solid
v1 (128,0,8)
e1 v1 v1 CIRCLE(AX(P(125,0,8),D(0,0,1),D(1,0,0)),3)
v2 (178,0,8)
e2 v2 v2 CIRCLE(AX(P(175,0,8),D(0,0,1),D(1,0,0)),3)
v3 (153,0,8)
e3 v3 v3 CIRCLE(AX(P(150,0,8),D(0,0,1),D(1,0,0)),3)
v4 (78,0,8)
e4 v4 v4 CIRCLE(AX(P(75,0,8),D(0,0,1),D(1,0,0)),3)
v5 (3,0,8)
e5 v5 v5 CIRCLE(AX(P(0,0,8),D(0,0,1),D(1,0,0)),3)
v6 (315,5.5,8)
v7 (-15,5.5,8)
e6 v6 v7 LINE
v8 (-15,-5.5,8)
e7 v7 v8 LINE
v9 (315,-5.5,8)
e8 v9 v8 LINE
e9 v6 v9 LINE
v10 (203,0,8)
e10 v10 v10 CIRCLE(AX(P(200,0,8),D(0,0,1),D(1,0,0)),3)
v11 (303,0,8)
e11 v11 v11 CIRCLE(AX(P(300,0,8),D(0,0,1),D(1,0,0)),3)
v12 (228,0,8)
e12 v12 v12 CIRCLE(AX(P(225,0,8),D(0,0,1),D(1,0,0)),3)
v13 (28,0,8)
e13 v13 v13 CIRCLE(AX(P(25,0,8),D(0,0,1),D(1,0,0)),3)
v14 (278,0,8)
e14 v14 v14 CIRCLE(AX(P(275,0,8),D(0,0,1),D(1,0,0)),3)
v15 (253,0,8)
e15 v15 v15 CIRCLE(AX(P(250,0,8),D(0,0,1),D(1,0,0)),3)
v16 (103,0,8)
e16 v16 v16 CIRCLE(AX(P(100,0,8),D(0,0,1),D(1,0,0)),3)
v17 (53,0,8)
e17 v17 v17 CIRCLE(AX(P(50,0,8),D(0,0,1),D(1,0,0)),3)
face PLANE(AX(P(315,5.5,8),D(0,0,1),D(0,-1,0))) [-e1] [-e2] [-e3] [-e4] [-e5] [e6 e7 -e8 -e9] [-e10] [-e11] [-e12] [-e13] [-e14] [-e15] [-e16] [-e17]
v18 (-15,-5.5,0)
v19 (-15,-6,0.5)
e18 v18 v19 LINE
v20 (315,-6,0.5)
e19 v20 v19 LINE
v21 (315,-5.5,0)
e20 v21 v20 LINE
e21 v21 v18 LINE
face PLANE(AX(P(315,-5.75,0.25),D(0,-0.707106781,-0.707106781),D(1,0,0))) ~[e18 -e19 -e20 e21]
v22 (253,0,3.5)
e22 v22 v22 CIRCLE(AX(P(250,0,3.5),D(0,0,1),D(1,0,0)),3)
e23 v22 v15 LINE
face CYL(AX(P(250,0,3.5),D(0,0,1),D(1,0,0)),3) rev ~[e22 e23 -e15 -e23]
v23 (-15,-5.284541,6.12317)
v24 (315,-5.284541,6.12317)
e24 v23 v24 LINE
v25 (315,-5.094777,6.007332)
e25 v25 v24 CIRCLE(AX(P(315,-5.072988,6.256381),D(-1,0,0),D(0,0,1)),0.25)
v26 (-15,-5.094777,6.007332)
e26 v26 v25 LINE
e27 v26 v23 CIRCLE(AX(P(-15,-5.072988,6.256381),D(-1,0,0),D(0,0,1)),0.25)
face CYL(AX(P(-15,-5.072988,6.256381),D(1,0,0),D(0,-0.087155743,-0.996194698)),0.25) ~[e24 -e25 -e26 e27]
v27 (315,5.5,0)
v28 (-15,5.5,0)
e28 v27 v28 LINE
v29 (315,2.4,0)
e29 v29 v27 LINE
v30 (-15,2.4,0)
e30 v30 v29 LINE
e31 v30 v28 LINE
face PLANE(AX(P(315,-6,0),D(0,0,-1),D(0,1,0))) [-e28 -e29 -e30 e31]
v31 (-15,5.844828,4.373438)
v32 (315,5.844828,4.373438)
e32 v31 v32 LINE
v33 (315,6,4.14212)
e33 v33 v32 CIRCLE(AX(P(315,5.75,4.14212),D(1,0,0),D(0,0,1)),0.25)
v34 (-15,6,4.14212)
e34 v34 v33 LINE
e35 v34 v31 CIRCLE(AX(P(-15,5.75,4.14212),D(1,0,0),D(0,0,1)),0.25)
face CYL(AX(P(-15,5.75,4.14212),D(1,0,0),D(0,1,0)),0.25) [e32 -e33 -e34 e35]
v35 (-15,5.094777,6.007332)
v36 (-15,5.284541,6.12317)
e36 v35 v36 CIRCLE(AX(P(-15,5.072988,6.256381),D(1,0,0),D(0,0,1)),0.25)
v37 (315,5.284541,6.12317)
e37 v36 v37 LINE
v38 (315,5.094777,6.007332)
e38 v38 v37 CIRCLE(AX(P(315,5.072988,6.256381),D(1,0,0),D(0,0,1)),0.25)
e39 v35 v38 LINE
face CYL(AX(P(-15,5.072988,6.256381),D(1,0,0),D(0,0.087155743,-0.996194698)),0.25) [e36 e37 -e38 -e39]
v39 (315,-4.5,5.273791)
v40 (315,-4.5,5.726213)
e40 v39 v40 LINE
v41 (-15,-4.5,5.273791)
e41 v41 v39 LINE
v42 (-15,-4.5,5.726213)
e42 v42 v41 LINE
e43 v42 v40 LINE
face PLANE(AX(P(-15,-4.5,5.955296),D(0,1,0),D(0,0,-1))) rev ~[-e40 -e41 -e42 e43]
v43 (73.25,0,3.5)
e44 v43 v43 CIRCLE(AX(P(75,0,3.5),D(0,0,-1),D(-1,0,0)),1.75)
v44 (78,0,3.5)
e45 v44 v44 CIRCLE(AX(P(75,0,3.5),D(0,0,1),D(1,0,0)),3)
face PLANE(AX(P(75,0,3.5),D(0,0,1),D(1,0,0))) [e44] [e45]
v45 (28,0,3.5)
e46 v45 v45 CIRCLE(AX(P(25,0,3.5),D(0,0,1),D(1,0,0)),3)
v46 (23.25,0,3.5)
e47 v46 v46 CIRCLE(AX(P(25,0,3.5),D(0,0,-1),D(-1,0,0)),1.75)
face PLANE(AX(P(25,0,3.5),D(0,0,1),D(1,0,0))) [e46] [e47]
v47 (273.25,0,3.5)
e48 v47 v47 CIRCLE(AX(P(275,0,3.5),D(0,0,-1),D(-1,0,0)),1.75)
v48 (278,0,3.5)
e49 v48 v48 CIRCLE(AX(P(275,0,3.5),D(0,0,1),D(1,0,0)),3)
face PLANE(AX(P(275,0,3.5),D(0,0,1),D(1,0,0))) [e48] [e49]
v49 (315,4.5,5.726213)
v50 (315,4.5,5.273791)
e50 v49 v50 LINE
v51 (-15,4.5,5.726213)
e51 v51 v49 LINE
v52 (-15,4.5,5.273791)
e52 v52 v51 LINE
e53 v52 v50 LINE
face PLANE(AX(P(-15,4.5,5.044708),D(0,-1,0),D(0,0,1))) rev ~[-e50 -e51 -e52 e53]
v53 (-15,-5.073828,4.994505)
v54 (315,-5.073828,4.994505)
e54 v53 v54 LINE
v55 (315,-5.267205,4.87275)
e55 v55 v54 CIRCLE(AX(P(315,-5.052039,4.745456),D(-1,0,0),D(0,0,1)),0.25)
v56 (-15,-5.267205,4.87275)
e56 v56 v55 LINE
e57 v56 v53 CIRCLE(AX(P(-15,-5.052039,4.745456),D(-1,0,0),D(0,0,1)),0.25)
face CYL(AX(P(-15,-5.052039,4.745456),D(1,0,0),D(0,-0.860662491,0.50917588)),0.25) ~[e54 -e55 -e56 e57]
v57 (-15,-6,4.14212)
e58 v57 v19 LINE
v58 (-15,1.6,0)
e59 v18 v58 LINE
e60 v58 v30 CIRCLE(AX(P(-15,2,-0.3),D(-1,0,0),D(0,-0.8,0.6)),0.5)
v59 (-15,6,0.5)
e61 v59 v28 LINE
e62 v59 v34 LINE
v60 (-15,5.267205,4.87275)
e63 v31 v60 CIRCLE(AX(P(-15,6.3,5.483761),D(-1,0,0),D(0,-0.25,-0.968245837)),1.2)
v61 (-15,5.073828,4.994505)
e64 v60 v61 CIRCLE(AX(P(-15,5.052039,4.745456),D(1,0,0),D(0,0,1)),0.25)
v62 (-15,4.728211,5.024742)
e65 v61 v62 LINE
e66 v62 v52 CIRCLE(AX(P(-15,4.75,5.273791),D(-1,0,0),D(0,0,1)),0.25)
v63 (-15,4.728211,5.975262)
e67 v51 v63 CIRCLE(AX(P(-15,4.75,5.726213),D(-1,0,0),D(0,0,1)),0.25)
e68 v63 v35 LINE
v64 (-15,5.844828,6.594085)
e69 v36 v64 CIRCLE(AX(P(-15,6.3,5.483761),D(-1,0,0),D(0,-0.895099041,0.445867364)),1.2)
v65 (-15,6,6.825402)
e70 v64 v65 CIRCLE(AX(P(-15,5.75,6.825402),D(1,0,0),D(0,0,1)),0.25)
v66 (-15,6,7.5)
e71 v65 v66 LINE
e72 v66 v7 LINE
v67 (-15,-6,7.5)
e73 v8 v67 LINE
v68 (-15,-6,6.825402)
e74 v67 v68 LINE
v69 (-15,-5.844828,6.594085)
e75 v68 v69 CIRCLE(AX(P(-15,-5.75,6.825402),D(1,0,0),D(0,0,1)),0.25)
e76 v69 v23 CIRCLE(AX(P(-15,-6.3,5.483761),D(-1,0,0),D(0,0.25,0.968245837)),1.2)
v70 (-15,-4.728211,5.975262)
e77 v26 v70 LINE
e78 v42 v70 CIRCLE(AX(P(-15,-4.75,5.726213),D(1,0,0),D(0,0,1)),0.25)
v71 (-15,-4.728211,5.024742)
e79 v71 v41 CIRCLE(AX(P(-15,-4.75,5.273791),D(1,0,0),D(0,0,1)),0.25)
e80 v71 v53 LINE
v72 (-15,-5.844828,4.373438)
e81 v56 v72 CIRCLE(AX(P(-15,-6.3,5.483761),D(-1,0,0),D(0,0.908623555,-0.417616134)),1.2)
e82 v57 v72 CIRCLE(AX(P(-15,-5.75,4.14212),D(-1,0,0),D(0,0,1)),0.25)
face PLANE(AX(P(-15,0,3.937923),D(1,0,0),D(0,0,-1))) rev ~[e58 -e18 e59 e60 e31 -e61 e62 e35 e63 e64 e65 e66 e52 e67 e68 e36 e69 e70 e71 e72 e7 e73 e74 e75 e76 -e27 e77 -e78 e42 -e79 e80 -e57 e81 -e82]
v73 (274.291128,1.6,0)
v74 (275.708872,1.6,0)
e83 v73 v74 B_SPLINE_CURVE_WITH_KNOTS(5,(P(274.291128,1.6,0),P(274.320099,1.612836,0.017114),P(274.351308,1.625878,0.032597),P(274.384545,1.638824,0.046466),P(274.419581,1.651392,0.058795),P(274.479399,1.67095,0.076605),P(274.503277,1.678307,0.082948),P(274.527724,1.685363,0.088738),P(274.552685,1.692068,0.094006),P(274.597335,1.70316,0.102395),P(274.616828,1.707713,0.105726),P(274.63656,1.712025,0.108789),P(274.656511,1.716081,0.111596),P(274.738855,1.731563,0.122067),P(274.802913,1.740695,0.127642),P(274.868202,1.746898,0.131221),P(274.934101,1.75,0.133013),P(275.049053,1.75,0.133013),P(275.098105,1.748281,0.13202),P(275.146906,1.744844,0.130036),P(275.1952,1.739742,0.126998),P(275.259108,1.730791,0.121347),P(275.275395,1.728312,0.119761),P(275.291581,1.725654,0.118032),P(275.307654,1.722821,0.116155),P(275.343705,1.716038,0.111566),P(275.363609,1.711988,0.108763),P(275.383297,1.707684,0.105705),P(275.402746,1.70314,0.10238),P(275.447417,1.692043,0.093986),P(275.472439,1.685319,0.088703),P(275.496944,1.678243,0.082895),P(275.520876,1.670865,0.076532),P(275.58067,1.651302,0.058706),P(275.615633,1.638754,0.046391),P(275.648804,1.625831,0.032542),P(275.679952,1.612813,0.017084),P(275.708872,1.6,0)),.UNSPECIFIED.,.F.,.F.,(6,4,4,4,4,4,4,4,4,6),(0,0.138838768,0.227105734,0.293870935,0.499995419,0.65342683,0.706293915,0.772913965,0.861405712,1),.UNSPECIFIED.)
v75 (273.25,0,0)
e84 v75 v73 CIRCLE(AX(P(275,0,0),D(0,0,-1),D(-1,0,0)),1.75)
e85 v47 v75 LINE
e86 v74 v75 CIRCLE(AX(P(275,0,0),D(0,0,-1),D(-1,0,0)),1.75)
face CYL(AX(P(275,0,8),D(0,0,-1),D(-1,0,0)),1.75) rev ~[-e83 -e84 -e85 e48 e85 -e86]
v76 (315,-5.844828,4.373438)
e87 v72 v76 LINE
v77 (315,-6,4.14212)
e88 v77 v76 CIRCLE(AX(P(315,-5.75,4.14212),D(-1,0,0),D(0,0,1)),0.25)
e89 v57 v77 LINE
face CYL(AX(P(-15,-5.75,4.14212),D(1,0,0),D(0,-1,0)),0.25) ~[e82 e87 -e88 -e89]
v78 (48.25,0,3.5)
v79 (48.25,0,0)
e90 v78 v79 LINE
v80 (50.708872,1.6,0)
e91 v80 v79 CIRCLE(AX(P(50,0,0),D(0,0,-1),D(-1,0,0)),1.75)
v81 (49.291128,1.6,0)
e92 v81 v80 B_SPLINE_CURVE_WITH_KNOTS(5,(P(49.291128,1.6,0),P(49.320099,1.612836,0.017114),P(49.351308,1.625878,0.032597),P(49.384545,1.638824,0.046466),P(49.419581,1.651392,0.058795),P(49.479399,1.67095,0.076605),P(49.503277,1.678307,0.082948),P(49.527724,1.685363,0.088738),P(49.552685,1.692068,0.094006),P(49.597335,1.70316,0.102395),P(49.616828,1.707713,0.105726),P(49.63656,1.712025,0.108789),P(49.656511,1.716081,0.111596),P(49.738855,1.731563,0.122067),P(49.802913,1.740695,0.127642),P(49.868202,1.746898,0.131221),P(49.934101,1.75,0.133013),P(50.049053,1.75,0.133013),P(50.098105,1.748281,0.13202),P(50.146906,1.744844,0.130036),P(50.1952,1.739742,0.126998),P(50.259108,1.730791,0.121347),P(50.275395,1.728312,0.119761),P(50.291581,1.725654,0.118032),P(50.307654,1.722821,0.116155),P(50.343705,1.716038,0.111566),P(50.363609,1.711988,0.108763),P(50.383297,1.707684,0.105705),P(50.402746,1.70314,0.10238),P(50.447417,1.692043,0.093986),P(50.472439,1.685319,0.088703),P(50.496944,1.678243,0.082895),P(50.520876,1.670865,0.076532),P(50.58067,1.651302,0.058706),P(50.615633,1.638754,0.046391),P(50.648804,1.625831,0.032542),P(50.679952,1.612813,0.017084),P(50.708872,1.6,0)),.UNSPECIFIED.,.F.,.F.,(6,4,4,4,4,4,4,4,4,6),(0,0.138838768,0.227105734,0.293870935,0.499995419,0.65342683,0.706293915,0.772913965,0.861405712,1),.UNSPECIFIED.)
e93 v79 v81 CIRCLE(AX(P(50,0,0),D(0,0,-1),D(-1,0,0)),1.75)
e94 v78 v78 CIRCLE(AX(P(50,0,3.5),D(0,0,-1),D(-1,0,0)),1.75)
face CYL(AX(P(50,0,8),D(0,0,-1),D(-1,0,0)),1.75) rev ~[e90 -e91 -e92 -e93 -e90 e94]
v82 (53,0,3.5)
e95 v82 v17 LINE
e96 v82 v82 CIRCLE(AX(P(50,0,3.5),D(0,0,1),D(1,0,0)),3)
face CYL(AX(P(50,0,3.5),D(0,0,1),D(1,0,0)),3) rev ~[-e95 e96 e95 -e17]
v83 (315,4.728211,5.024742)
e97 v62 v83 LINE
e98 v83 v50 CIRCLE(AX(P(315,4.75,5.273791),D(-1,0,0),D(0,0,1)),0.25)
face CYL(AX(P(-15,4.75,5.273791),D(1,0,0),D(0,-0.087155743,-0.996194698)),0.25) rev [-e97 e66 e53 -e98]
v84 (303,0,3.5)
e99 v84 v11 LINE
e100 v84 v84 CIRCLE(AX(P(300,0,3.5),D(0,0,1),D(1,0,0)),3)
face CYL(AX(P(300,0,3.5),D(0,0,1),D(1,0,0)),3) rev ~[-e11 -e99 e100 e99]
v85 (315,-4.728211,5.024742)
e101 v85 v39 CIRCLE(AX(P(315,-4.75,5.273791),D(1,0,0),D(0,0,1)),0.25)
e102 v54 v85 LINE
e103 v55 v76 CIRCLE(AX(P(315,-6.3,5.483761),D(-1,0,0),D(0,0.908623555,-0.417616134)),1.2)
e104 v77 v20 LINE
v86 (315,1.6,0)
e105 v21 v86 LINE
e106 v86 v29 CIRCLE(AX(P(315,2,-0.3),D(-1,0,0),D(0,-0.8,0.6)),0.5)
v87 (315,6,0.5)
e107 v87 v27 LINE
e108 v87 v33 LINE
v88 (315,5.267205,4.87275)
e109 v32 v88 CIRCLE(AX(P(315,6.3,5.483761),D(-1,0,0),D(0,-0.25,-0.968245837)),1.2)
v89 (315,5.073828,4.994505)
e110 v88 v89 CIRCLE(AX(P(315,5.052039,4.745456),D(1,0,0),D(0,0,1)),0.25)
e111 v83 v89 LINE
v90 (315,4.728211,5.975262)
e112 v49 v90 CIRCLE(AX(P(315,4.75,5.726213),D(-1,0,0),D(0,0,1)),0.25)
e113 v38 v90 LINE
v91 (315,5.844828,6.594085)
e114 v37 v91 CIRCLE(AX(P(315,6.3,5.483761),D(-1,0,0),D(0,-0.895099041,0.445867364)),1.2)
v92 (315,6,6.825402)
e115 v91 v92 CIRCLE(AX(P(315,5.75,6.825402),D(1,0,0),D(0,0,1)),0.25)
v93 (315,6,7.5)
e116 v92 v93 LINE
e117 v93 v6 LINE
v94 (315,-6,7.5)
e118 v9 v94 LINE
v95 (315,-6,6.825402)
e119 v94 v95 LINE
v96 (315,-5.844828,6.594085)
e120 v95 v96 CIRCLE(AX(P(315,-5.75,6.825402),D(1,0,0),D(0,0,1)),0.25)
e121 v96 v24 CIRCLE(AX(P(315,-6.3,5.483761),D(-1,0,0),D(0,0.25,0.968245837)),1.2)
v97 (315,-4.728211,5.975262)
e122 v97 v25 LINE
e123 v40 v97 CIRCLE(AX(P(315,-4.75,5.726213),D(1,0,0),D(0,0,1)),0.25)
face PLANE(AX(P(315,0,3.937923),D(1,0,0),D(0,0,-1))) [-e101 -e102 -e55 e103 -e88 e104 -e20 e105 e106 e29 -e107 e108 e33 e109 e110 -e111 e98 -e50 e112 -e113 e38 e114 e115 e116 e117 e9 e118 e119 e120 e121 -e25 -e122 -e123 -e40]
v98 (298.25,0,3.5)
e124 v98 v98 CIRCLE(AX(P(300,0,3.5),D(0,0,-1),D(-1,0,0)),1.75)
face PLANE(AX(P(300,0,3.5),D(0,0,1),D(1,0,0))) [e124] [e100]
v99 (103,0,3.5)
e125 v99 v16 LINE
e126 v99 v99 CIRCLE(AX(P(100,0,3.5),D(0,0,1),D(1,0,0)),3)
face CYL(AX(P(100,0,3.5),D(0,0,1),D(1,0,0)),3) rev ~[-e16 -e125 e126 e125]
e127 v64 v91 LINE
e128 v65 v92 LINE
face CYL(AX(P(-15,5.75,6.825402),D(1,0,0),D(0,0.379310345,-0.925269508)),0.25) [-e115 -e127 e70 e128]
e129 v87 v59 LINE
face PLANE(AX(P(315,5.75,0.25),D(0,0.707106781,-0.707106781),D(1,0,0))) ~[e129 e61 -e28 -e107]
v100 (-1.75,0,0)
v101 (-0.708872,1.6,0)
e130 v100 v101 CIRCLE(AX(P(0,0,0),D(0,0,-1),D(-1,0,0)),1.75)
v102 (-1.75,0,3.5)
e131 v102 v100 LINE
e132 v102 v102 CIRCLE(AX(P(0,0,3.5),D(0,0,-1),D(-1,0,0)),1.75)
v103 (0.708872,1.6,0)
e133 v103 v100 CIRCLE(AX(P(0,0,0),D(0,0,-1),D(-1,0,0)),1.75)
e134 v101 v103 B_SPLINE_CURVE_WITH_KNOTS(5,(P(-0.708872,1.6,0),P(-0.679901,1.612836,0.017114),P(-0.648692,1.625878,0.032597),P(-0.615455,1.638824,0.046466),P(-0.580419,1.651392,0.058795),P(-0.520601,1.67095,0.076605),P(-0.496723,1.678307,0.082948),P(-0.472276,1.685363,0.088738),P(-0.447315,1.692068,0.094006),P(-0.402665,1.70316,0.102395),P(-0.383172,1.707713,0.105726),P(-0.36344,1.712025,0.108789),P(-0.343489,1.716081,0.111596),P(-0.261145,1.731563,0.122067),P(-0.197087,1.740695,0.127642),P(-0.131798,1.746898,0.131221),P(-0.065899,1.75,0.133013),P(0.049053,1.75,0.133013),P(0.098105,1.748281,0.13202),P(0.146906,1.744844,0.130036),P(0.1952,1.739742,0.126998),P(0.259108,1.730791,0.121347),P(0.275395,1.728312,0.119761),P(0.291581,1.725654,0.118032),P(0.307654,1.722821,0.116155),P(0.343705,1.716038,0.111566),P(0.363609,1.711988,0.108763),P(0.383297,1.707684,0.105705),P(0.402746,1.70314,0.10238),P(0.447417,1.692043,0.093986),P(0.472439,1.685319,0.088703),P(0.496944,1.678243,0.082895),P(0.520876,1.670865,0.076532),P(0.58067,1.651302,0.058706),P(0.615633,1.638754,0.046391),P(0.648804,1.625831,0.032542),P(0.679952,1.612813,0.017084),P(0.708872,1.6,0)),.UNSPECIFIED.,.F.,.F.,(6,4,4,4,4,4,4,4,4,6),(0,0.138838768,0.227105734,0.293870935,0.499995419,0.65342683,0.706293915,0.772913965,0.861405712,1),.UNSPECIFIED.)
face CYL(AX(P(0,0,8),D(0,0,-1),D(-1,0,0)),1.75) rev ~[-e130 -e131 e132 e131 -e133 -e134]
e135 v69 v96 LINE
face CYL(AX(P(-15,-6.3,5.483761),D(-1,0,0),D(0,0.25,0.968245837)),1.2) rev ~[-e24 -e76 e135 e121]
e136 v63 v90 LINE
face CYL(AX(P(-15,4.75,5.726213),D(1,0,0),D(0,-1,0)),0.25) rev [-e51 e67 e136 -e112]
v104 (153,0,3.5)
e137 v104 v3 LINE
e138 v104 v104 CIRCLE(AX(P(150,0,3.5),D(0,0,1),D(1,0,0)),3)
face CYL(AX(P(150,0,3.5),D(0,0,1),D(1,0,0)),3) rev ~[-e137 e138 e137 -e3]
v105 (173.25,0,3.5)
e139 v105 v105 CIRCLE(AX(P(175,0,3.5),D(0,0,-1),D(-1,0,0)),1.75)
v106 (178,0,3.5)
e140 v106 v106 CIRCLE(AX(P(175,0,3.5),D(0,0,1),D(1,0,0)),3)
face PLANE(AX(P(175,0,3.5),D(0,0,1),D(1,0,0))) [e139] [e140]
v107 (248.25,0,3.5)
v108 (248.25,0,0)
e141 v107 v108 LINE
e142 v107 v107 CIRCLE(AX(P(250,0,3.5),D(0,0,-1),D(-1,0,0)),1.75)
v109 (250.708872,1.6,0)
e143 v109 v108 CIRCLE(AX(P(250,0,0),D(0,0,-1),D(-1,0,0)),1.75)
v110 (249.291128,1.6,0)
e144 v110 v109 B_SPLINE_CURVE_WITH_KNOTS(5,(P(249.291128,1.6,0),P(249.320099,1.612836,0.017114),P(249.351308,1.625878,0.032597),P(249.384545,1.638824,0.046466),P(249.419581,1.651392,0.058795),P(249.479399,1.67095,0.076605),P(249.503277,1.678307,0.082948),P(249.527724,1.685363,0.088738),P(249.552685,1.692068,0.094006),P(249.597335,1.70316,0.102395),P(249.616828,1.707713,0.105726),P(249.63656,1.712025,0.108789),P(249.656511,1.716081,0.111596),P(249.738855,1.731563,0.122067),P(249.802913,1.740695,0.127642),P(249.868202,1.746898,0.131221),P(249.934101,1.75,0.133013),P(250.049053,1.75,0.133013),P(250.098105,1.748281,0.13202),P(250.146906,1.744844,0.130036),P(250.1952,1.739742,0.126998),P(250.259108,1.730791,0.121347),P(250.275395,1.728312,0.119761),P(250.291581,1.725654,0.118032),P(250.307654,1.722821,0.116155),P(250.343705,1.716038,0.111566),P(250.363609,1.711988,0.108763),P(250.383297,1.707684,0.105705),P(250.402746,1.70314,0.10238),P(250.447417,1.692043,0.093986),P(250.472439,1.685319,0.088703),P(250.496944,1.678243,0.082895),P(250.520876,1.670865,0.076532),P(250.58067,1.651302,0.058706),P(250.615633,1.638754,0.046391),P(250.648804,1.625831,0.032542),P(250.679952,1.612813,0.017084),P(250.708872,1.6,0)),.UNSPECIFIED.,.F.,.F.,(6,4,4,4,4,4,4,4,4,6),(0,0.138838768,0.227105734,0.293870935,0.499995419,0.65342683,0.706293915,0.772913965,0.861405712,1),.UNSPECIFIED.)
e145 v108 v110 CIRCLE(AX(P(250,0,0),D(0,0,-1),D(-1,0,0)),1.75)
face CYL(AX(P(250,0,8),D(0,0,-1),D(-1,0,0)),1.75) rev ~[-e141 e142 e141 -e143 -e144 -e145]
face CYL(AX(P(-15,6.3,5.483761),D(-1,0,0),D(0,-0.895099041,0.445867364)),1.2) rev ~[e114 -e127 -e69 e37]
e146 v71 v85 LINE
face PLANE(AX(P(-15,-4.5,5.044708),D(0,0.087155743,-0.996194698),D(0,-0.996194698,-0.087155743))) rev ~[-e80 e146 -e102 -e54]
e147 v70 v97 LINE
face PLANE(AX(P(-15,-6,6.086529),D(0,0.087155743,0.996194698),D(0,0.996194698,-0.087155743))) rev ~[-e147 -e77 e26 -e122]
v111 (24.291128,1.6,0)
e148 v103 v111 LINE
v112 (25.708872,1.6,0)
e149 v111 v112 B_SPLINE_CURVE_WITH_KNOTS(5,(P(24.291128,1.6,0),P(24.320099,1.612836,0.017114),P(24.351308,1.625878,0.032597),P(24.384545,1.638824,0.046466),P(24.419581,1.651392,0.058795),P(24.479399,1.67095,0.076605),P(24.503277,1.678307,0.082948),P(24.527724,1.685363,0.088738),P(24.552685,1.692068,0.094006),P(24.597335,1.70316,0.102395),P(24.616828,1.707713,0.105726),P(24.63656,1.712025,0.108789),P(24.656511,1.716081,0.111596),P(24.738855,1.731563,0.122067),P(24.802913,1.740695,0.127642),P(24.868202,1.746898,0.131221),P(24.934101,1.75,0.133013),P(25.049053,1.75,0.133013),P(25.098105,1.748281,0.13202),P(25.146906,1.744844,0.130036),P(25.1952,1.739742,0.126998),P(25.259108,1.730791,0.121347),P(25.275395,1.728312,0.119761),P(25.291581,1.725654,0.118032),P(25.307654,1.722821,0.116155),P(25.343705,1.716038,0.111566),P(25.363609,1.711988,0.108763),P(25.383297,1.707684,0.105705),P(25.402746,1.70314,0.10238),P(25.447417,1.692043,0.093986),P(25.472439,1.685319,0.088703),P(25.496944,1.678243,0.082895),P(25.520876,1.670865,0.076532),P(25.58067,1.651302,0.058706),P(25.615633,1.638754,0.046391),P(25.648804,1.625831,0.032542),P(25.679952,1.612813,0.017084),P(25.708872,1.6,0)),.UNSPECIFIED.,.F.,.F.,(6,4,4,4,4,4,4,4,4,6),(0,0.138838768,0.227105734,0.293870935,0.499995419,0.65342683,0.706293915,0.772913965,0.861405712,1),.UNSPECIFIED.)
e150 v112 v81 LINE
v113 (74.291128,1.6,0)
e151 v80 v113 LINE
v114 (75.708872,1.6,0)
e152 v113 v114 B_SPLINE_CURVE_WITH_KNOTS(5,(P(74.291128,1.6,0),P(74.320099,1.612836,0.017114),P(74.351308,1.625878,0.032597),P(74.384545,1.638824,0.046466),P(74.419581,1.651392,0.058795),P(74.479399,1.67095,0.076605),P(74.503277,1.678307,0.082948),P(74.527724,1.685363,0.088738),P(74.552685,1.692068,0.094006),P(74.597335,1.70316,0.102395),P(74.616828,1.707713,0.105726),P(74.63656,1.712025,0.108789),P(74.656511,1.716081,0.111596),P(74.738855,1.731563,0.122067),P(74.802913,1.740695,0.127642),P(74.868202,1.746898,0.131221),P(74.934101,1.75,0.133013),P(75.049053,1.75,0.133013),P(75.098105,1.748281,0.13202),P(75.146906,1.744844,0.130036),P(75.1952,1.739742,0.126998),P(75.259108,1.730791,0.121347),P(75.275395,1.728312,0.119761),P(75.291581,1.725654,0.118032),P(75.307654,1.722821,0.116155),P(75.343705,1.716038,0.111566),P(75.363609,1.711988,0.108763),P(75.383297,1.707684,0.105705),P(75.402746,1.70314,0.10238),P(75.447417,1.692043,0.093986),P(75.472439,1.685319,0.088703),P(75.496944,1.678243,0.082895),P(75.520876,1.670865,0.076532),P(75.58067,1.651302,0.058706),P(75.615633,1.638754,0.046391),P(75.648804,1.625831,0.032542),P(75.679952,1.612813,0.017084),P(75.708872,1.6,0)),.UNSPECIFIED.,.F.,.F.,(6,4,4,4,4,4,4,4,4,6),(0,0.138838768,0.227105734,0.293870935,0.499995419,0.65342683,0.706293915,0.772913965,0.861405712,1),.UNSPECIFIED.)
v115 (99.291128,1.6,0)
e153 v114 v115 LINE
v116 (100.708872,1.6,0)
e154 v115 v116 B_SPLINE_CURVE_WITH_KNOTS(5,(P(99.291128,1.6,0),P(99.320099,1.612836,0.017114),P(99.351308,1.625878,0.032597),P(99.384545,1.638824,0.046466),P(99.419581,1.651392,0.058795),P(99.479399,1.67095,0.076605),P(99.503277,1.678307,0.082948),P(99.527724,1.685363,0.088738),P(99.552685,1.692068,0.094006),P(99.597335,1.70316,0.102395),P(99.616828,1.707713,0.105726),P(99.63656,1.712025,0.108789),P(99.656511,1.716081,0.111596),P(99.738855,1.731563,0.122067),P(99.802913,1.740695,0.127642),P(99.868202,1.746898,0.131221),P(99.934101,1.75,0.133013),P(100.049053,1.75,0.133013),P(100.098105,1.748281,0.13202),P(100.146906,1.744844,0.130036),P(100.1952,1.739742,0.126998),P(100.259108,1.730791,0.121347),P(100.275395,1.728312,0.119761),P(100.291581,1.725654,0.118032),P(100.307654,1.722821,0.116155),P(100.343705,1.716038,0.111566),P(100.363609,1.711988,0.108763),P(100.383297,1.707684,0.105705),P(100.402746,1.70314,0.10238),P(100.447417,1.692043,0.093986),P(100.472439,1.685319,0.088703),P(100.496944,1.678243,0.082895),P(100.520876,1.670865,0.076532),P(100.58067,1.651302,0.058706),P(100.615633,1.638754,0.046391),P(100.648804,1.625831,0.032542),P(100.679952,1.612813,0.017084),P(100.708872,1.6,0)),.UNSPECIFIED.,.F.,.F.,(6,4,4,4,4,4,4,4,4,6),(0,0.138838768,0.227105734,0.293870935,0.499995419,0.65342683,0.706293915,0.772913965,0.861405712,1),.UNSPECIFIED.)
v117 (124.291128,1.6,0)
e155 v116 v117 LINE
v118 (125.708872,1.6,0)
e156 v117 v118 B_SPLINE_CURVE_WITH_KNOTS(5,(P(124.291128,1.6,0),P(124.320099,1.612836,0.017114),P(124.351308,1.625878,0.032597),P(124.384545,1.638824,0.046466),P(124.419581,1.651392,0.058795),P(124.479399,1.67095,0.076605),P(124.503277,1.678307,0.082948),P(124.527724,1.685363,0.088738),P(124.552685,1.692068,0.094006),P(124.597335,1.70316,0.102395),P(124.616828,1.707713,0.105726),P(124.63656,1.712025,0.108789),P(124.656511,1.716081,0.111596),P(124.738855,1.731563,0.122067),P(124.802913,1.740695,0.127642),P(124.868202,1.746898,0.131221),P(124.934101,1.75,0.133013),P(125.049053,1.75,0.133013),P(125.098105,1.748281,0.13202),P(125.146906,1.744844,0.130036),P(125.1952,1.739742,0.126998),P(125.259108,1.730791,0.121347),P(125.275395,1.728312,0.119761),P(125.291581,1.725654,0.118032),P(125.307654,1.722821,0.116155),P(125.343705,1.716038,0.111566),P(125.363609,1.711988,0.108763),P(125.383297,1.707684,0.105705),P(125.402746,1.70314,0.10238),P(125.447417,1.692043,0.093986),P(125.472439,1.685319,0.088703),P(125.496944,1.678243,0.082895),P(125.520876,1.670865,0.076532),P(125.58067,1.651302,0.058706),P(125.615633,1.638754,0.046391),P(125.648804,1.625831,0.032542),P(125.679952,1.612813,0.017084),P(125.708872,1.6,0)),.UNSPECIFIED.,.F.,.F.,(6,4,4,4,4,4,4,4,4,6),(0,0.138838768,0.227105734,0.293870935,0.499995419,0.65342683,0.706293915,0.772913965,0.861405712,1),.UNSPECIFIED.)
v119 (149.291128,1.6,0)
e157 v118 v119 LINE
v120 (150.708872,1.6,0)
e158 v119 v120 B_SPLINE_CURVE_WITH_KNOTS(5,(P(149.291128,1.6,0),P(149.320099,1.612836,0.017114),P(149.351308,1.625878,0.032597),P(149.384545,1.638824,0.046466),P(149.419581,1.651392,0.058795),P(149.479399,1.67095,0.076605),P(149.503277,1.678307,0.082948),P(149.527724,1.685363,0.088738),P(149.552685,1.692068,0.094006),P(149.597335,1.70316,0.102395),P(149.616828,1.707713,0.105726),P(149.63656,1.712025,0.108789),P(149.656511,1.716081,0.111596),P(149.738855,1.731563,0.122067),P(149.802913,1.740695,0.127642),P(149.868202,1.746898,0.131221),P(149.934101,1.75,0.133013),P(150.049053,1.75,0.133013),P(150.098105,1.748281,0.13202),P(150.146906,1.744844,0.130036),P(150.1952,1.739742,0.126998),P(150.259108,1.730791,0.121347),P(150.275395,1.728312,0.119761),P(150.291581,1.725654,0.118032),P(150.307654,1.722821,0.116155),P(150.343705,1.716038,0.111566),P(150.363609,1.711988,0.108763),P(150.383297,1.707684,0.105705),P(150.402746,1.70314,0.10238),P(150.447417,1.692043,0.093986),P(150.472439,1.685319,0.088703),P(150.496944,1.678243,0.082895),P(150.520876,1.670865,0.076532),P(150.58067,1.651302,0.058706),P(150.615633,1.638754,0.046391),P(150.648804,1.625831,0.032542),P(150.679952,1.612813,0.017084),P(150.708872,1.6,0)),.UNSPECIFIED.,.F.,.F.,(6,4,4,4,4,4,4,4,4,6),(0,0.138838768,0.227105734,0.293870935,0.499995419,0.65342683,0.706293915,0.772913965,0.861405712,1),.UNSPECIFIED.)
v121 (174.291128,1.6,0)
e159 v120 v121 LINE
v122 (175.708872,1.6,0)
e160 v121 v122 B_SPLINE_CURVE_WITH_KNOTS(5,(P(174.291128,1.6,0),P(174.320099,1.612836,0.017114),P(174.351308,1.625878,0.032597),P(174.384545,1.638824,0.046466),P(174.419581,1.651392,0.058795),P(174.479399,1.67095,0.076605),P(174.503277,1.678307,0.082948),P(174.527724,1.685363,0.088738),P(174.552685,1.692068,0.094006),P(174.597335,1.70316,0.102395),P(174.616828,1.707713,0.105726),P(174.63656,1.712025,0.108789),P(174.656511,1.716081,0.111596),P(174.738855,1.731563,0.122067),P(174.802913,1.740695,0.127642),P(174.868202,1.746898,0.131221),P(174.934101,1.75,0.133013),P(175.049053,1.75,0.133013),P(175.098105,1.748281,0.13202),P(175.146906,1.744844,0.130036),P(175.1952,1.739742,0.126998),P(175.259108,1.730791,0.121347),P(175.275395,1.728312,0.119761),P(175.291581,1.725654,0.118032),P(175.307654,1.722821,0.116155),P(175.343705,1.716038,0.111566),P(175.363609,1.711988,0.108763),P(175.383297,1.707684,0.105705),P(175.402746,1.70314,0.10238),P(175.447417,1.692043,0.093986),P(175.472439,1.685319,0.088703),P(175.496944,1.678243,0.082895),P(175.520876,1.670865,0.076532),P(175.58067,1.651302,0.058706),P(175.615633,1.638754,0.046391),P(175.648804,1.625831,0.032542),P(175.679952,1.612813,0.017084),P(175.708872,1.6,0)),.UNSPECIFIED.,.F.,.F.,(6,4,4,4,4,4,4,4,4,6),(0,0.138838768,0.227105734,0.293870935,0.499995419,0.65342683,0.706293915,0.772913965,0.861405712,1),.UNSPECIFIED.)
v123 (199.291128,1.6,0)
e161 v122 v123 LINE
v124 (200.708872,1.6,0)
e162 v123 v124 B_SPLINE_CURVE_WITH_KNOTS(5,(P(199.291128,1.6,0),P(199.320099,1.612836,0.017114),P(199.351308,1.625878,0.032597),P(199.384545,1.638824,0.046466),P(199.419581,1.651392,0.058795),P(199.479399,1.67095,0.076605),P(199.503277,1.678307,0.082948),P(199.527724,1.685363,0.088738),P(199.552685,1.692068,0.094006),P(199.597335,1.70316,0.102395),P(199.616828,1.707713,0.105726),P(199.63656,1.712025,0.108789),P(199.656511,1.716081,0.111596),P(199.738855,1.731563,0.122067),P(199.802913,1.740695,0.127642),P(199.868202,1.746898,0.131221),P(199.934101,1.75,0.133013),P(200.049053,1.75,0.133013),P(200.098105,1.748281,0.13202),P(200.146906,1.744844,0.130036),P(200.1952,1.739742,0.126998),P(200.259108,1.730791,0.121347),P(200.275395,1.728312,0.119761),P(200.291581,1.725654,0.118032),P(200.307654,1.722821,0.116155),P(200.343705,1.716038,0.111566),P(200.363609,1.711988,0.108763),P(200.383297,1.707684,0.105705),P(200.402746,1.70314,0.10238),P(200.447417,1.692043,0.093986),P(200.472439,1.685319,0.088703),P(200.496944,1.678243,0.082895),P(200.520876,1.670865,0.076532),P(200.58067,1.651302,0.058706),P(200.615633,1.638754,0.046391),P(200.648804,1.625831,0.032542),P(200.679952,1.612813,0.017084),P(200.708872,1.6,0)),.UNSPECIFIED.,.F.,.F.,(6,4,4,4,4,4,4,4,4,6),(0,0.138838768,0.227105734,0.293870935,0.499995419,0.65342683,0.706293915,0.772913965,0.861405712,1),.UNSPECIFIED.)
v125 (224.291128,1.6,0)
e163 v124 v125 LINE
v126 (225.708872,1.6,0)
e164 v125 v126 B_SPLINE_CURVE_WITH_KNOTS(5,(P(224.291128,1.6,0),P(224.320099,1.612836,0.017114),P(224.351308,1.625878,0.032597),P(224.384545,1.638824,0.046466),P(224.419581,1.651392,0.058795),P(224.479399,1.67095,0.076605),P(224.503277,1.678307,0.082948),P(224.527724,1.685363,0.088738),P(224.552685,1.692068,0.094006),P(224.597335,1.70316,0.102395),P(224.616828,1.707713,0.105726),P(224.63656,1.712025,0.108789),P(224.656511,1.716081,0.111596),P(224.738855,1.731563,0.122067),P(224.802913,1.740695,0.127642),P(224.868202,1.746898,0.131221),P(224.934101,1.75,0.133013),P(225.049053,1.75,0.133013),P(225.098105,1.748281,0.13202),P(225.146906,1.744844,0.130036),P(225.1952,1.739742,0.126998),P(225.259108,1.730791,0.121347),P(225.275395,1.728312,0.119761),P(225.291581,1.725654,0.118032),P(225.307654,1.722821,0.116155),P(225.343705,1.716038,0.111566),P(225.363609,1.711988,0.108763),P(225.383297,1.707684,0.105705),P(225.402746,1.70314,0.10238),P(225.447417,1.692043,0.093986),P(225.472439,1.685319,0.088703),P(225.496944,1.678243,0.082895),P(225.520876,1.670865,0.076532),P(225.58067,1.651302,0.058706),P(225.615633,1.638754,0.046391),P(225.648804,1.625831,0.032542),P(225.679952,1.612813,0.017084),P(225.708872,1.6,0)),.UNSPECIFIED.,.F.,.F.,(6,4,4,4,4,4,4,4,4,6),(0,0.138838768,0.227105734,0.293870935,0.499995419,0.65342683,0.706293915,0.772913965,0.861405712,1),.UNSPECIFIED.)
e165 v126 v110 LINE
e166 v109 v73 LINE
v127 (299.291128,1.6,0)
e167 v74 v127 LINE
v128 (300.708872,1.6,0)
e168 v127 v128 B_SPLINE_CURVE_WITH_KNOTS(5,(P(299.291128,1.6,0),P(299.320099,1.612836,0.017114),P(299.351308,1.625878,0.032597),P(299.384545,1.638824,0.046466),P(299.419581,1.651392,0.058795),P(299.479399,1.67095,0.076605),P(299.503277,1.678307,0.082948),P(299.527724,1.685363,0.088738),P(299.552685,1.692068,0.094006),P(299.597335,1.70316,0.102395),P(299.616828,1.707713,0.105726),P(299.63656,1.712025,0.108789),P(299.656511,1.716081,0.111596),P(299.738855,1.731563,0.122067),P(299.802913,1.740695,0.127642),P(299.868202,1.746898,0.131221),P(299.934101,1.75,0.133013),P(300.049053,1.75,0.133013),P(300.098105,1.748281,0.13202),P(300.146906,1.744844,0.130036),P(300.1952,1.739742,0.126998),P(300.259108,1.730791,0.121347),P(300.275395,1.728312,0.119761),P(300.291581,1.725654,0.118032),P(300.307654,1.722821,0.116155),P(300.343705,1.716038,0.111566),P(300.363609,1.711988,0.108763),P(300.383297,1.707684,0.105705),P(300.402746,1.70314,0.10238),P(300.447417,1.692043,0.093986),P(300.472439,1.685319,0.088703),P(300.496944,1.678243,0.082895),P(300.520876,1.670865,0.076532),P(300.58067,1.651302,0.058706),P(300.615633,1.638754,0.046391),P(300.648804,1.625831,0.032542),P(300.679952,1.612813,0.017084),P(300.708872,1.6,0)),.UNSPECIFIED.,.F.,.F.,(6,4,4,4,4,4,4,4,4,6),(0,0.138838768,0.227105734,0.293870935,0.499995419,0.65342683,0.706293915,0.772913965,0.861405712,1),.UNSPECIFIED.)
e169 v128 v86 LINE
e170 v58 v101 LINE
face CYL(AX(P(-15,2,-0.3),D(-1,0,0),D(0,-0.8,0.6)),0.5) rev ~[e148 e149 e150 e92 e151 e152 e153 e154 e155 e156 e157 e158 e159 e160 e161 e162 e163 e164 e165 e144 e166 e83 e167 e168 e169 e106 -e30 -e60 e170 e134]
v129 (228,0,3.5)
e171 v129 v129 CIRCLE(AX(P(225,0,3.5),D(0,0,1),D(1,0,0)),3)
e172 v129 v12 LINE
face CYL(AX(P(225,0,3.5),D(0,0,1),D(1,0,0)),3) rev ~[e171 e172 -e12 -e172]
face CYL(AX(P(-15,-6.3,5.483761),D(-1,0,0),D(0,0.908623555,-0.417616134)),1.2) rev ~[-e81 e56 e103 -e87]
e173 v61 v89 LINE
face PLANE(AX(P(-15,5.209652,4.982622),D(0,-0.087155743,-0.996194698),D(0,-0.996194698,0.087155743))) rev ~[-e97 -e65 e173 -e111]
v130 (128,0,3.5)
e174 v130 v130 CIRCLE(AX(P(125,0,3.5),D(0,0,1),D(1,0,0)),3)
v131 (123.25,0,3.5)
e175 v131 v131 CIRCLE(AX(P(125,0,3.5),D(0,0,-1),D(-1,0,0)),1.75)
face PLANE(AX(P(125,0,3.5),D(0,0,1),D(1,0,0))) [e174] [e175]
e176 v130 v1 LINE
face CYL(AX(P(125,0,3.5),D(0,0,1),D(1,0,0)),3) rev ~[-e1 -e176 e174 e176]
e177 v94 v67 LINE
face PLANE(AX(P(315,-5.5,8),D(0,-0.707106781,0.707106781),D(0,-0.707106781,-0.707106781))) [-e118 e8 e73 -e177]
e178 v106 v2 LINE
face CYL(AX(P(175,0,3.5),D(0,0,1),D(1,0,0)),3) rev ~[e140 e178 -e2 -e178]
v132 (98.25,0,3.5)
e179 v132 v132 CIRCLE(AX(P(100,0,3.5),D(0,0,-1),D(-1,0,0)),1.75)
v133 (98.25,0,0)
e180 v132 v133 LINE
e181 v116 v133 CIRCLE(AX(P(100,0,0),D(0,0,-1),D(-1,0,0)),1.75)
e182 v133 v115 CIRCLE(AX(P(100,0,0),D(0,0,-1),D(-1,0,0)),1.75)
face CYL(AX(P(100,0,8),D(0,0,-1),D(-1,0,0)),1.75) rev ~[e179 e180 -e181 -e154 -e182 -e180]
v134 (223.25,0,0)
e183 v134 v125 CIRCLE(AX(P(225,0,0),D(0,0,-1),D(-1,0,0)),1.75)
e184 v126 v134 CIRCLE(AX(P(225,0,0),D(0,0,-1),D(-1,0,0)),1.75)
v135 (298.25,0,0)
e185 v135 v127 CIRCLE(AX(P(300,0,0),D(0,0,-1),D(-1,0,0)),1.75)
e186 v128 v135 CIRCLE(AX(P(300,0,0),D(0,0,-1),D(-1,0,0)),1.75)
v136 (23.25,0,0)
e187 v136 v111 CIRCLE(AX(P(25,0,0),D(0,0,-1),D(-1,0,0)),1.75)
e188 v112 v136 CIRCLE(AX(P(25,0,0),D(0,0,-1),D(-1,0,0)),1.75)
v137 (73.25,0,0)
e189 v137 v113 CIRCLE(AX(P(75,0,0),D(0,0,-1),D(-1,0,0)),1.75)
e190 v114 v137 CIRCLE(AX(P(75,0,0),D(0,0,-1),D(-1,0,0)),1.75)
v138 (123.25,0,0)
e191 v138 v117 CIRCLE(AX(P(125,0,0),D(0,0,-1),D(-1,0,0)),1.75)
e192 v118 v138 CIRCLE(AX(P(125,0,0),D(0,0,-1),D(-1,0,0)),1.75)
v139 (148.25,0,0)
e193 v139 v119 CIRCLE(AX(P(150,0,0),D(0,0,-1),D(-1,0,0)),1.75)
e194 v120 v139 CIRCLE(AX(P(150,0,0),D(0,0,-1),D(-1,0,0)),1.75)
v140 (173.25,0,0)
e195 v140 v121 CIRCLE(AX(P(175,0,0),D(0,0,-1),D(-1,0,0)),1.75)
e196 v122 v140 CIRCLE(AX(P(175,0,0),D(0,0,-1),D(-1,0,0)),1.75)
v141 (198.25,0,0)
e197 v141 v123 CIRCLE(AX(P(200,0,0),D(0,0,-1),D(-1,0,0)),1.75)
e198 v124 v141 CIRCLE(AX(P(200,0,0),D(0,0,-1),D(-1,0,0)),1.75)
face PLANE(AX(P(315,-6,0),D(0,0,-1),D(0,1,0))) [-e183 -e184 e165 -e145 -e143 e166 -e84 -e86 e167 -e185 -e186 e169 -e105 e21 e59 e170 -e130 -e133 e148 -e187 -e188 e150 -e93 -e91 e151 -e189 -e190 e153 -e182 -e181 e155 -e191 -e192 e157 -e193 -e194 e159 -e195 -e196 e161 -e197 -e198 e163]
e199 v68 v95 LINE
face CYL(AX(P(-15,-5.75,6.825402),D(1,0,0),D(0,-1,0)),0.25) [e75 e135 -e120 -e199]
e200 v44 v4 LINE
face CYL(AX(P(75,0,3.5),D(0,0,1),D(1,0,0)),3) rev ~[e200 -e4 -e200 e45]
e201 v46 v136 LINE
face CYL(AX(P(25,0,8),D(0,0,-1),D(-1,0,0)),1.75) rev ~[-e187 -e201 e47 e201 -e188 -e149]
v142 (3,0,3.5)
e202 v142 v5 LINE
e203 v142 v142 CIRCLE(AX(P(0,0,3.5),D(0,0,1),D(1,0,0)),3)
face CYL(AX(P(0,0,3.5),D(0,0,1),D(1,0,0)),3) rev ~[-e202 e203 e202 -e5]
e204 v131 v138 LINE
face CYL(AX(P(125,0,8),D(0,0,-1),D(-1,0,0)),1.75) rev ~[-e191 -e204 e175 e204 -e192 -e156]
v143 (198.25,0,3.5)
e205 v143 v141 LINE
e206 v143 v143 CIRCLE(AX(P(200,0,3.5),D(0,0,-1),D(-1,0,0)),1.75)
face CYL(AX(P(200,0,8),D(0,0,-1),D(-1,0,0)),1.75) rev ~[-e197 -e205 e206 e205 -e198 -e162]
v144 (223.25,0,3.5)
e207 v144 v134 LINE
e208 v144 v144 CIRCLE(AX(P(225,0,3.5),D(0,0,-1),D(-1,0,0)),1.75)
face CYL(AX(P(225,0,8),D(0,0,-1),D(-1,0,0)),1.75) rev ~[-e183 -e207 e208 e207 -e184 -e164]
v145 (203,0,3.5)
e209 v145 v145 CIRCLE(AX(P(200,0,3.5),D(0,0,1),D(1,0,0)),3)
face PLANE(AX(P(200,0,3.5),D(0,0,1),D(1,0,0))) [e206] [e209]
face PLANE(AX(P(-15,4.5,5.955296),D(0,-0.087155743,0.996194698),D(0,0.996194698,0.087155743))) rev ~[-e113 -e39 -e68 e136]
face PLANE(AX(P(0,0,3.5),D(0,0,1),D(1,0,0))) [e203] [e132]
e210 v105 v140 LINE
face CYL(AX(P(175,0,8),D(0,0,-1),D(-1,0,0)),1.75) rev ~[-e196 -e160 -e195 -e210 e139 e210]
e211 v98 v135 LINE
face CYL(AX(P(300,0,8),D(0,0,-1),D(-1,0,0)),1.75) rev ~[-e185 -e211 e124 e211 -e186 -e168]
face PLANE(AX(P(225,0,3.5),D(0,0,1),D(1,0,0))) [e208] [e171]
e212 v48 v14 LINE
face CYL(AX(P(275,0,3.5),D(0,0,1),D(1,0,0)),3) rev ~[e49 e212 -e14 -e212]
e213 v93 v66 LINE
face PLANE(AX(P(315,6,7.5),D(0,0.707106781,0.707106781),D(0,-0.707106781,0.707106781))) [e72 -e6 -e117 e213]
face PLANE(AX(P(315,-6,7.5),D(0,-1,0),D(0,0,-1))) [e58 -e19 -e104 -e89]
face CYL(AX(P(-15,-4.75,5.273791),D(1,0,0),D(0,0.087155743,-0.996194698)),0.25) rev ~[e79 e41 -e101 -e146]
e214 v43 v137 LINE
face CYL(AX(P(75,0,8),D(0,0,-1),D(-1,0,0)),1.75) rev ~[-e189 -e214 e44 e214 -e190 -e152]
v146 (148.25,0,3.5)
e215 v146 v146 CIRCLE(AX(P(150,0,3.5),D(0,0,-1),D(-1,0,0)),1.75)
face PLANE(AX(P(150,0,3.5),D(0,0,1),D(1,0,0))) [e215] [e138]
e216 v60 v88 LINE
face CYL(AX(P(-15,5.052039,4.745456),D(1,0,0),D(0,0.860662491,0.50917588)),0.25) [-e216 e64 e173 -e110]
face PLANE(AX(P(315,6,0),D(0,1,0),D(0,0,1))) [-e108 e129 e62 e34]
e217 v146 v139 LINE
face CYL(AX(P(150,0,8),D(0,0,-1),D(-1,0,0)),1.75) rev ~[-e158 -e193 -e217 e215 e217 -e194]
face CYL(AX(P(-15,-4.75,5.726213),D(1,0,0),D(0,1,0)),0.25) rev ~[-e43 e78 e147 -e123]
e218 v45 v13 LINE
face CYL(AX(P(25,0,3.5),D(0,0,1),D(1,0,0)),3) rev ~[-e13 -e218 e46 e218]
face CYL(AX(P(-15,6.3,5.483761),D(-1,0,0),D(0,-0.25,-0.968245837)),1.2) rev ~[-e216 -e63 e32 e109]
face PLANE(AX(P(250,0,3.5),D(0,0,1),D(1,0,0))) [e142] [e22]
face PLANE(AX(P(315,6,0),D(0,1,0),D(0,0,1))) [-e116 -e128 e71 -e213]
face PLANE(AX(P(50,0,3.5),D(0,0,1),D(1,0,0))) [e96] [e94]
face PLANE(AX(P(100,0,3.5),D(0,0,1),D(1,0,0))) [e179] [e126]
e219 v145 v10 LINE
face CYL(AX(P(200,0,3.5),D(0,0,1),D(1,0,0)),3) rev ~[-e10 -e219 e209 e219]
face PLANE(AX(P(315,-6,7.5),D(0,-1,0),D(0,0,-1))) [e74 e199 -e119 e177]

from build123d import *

# Parameters (mm, degrees)
BOSS_EXTRUDE1_DEPTH                              = 330.0000000000001
CUT_EXTRUDE1_DEPTH                               = 331.15148038439605
CUT_EXTRUDE2_DEPTH                               = 331.15148038439605
CUT_EXTRUDE3_DEPTH                               = 331.15148038439605
CUT_EXTRUDE4_DEPTH                               = 331.15148038439605
CUT_EXTRUDE5_DEPTH                               = 331.15148038439605
CBORE_FOR_M3_HEX_HEAD_MACHINE_SCREW1_D           = 3.5
CBORE_FOR_M3_HEX_HEAD_MACHINE_SCREW1_CBORE_D     = 6
CBORE_FOR_M3_HEX_HEAD_MACHINE_SCREW1_CBORE_DEPTH = 4.500000001
CHAMFER1_SIZE                                    = 0.49999999999999817
FILLET1_R                                        = 0.2499999999999934


with BuildPart() as part:
    # Sketch1 → Boss-Extrude1 (new body)
    with BuildSketch(Plane(origin=(315, 0, 0), x_dir=(0, 0, -1), z_dir=(1, 0, 0))):
        Polygon((-6.645656211367382, -5.999999999987301), (-6.086528667804737, -5.9999999999873), (-4.3218662036368185, -5.999999999987301), (-4.142120421, -5.999999999987301), (-0.5, -5.999999999987301), (1.1e-16, -5.999999999987301), (1.1e-16, -5.499999999987301), (1.1e-16, 1.6000000000126995), (1.1e-16, 2.4000000000130934), (1.1e-16, 5.500000000038499), (1.1e-16, 6.000000000012701), (-0.5, 6.000000000012701), (-4.142120421, 6.000000000012701), (-4.321866203637508, 6.000000000012701), (-6.086528667804739, 6.000000000012701), (-6.645656211361536, 6.000000000012701), (-6.8254019940016, 6.0000000000127), (-7.5000000005016, 6.0000000000127), (-8.0000000005016, 5.500000000012699), (-8.0000000005016, -5.4999999999873), (-7.5000000005016, -5.9999999999873), (-6.8254019940016, -5.9999999999873), align=None)
    extrude(amount=-BOSS_EXTRUDE1_DEPTH)

    # Sketch2 → Cut-Extrude1 (cut, through all)
    with BuildSketch(Plane.ZY.offset(15.000000000000124)):
        with BuildLine():
            Line((6.08652866780937, -6.000000000000199), (6.018802044260312, -5.225881150429053))
            Line((6.018802044260312, -5.225881150429053), (6.00733187975836, -5.094776570230831))
            Line((6.00733187975836, -5.094776570230831), (5.975261553557278, -4.728211064330927))
            Line((5.975261553557278, -4.728211064330927), (5.955295672541693, -4.500000000017885))
            Line((5.955295672541693, -4.500000000017885), (5.726212879033703, -4.500000000017885))
            Line((5.726212879033703, -4.500000000017885), (5.273791122033704, -4.500000000017885))
            Line((5.273791122033704, -4.500000000017885), (5.044708328549826, -4.500000000017885))
            Line((5.044708328549826, -4.500000000017885), (5.024742447510704, -4.728211064330986))
            Line((5.024742447510704, -4.728211064330986), (4.994504855310705, -5.073828324330986))
            Line((4.994504855310705, -5.073828324330986), (4.982621846705465, -5.209651734063311))
            ThreePointArc((4.982621846705465, -5.209651734063311), (4.5631182691832715, -5.530313973033924), (4.321866203641435, -6.000000000000199))
            Line((4.321866203641435, -6.000000000000199), (6.08652866780937, -6.000000000000199))
        make_face()
    extrude(amount=-CUT_EXTRUDE1_DEPTH, mode=Mode.SUBTRACT)

    # Sketch3 → Cut-Extrude2 (cut, through all)
    with BuildSketch(Plane.ZY.offset(15.000000000000124)):
        with BuildLine():
            Line((4.63134e-12, 2.4000000000000923), (4.63324e-12, 1.5999999999997847))
            ThreePointArc((4.63324e-12, 1.5999999999997847), (0.20000000000487567, 1.9999999999999392), (4.63134e-12, 2.4000000000000923))
        make_face()
    extrude(amount=-CUT_EXTRUDE2_DEPTH, mode=Mode.SUBTRACT)

    # Sketch4 → Cut-Extrude3 (cut, through all)
    with BuildSketch(Plane.ZY.offset(15.000000000000124)):
        with BuildLine():
            Line((6.007331879761033, 5.0947765702430985), (6.018802044262717, 5.225881150442735))
            Line((6.018802044262717, 5.225881150442735), (6.08652866780937, 6.0000000000127))
            Line((6.08652866780937, 6.0000000000127), (4.3218662036421405, 6.0000000000127))
            ThreePointArc((4.3218662036421405, 6.0000000000127), (4.563118269185973, 5.530313973045934), (4.982621846709898, 5.209651734075363))
            Line((4.982621846709898, 5.209651734075363), (4.994504855315133, 5.0738283243431))
            Line((4.994504855315133, 5.0738283243431), (5.024742447515134, 4.728211064343101))
            Line((5.024742447515134, 4.728211064343101), (5.044708328554257, 4.50000000003))
            Line((5.044708328554257, 4.50000000003), (5.273791122038133, 4.50000000003))
            Line((5.273791122038133, 4.50000000003), (5.7262128790381315, 4.50000000003))
            Line((5.7262128790381315, 4.50000000003), (5.9552956725461215, 4.50000000003))
            Line((5.9552956725461215, 4.50000000003), (5.975261553561033, 4.728211064343099))
            Line((5.975261553561033, 4.728211064343099), (6.007331879761033, 5.0947765702430985))
        make_face()
    extrude(amount=-CUT_EXTRUDE3_DEPTH, mode=Mode.SUBTRACT)

    # Sketch5 → Cut-Extrude4 (cut, through all)
    with BuildSketch(Plane.ZY.offset(15.000000000000124)):
        with BuildLine():
            Line((6.086528667809372, 6.0000000000127), (6.018802044262717, 5.225881150442735))
            ThreePointArc((6.018802044262717, 5.225881150442735), (6.4163451501653705, 5.544826384286438), (6.645656211366141, 6.0000000000127))
            Line((6.645656211366141, 6.0000000000127), (6.086528667809372, 6.0000000000127))
        make_face()
    extrude(amount=-CUT_EXTRUDE4_DEPTH, mode=Mode.SUBTRACT)

    # Sketch6 → Cut-Extrude5 (cut, through all)
    with BuildSketch(Plane.ZY.offset(15.000000000000124)):
        with BuildLine():
            Line((6.08652866780937, -5.999999999987301), (6.645656211368704, -5.999999999987301))
            ThreePointArc((6.645656211368704, -5.999999999987301), (6.416345150166451, -5.544826384259201), (6.018802044260312, -5.225881150416156))
            Line((6.018802044260312, -5.225881150416156), (6.08652866780937, -5.999999999987301))
        make_face()
    extrude(amount=-CUT_EXTRUDE5_DEPTH, mode=Mode.SUBTRACT)

    # CBORE for M3 Hex Head Machine Screw1 (through all)
    with Locations(Plane.XY.offset(8.0000000005016)):
        with Locations((300, 0), (25, 0), (50, 0), (75, 0), (100, 0), (125, 0), (150, 0), (175, 0), (200, 0), (225, 0), (250, 0), (275, 0), (0, 0)):
            CounterBoreHole(CBORE_FOR_M3_HEX_HEAD_MACHINE_SCREW1_D / 2, CBORE_FOR_M3_HEX_HEAD_MACHINE_SCREW1_CBORE_D / 2, CBORE_FOR_M3_HEX_HEAD_MACHINE_SCREW1_CBORE_DEPTH)

    # Chamfer1
    chamfer1_edges = [part.edges().sort_by_distance(p)[0] for p in [
        (149.99999999999994, 6.000000000012701, -1.1e-16),
        (149.99999999999994, -5.999999999987301, -1.1e-16),
    ]]
    chamfer(chamfer1_edges, length=CHAMFER1_SIZE)

    # Fillet1
    fillet1_edges = [part.edges().sort_by_distance(p)[0] for p in [
        (149.99999999999994, 4.50000000003, 5.955295672546116),
        (149.99999999999994, 4.50000000003, 5.044708328554251),
        (149.99999999999994, 5.209651734075363, 4.982621846709892),
        (149.99999999999994, 6.0000000000127, 4.321866203642135),
        (149.99999999999994, 6.0000000000127, 6.645656211366136),
        (149.99999999999994, 5.225881150442735, 6.018802044262712),
        (149.99999999999994, -5.225881150416156, 6.0188020442603065),
        (149.99999999999994, -5.999999999987301, 6.645656211368698),
        (149.99999999999994, -6.000000000000199, 4.32186620364143),
        (149.99999999999994, -5.209651734063311, 4.9826218467054595),
        (149.99999999999994, -4.500000000017885, 5.044708328549821),
        (149.99999999999994, -4.500000000017885, 5.955295672541688),
    ]]
    fillet(fillet1_edges, radius=FILLET1_R)


solid = part.part
